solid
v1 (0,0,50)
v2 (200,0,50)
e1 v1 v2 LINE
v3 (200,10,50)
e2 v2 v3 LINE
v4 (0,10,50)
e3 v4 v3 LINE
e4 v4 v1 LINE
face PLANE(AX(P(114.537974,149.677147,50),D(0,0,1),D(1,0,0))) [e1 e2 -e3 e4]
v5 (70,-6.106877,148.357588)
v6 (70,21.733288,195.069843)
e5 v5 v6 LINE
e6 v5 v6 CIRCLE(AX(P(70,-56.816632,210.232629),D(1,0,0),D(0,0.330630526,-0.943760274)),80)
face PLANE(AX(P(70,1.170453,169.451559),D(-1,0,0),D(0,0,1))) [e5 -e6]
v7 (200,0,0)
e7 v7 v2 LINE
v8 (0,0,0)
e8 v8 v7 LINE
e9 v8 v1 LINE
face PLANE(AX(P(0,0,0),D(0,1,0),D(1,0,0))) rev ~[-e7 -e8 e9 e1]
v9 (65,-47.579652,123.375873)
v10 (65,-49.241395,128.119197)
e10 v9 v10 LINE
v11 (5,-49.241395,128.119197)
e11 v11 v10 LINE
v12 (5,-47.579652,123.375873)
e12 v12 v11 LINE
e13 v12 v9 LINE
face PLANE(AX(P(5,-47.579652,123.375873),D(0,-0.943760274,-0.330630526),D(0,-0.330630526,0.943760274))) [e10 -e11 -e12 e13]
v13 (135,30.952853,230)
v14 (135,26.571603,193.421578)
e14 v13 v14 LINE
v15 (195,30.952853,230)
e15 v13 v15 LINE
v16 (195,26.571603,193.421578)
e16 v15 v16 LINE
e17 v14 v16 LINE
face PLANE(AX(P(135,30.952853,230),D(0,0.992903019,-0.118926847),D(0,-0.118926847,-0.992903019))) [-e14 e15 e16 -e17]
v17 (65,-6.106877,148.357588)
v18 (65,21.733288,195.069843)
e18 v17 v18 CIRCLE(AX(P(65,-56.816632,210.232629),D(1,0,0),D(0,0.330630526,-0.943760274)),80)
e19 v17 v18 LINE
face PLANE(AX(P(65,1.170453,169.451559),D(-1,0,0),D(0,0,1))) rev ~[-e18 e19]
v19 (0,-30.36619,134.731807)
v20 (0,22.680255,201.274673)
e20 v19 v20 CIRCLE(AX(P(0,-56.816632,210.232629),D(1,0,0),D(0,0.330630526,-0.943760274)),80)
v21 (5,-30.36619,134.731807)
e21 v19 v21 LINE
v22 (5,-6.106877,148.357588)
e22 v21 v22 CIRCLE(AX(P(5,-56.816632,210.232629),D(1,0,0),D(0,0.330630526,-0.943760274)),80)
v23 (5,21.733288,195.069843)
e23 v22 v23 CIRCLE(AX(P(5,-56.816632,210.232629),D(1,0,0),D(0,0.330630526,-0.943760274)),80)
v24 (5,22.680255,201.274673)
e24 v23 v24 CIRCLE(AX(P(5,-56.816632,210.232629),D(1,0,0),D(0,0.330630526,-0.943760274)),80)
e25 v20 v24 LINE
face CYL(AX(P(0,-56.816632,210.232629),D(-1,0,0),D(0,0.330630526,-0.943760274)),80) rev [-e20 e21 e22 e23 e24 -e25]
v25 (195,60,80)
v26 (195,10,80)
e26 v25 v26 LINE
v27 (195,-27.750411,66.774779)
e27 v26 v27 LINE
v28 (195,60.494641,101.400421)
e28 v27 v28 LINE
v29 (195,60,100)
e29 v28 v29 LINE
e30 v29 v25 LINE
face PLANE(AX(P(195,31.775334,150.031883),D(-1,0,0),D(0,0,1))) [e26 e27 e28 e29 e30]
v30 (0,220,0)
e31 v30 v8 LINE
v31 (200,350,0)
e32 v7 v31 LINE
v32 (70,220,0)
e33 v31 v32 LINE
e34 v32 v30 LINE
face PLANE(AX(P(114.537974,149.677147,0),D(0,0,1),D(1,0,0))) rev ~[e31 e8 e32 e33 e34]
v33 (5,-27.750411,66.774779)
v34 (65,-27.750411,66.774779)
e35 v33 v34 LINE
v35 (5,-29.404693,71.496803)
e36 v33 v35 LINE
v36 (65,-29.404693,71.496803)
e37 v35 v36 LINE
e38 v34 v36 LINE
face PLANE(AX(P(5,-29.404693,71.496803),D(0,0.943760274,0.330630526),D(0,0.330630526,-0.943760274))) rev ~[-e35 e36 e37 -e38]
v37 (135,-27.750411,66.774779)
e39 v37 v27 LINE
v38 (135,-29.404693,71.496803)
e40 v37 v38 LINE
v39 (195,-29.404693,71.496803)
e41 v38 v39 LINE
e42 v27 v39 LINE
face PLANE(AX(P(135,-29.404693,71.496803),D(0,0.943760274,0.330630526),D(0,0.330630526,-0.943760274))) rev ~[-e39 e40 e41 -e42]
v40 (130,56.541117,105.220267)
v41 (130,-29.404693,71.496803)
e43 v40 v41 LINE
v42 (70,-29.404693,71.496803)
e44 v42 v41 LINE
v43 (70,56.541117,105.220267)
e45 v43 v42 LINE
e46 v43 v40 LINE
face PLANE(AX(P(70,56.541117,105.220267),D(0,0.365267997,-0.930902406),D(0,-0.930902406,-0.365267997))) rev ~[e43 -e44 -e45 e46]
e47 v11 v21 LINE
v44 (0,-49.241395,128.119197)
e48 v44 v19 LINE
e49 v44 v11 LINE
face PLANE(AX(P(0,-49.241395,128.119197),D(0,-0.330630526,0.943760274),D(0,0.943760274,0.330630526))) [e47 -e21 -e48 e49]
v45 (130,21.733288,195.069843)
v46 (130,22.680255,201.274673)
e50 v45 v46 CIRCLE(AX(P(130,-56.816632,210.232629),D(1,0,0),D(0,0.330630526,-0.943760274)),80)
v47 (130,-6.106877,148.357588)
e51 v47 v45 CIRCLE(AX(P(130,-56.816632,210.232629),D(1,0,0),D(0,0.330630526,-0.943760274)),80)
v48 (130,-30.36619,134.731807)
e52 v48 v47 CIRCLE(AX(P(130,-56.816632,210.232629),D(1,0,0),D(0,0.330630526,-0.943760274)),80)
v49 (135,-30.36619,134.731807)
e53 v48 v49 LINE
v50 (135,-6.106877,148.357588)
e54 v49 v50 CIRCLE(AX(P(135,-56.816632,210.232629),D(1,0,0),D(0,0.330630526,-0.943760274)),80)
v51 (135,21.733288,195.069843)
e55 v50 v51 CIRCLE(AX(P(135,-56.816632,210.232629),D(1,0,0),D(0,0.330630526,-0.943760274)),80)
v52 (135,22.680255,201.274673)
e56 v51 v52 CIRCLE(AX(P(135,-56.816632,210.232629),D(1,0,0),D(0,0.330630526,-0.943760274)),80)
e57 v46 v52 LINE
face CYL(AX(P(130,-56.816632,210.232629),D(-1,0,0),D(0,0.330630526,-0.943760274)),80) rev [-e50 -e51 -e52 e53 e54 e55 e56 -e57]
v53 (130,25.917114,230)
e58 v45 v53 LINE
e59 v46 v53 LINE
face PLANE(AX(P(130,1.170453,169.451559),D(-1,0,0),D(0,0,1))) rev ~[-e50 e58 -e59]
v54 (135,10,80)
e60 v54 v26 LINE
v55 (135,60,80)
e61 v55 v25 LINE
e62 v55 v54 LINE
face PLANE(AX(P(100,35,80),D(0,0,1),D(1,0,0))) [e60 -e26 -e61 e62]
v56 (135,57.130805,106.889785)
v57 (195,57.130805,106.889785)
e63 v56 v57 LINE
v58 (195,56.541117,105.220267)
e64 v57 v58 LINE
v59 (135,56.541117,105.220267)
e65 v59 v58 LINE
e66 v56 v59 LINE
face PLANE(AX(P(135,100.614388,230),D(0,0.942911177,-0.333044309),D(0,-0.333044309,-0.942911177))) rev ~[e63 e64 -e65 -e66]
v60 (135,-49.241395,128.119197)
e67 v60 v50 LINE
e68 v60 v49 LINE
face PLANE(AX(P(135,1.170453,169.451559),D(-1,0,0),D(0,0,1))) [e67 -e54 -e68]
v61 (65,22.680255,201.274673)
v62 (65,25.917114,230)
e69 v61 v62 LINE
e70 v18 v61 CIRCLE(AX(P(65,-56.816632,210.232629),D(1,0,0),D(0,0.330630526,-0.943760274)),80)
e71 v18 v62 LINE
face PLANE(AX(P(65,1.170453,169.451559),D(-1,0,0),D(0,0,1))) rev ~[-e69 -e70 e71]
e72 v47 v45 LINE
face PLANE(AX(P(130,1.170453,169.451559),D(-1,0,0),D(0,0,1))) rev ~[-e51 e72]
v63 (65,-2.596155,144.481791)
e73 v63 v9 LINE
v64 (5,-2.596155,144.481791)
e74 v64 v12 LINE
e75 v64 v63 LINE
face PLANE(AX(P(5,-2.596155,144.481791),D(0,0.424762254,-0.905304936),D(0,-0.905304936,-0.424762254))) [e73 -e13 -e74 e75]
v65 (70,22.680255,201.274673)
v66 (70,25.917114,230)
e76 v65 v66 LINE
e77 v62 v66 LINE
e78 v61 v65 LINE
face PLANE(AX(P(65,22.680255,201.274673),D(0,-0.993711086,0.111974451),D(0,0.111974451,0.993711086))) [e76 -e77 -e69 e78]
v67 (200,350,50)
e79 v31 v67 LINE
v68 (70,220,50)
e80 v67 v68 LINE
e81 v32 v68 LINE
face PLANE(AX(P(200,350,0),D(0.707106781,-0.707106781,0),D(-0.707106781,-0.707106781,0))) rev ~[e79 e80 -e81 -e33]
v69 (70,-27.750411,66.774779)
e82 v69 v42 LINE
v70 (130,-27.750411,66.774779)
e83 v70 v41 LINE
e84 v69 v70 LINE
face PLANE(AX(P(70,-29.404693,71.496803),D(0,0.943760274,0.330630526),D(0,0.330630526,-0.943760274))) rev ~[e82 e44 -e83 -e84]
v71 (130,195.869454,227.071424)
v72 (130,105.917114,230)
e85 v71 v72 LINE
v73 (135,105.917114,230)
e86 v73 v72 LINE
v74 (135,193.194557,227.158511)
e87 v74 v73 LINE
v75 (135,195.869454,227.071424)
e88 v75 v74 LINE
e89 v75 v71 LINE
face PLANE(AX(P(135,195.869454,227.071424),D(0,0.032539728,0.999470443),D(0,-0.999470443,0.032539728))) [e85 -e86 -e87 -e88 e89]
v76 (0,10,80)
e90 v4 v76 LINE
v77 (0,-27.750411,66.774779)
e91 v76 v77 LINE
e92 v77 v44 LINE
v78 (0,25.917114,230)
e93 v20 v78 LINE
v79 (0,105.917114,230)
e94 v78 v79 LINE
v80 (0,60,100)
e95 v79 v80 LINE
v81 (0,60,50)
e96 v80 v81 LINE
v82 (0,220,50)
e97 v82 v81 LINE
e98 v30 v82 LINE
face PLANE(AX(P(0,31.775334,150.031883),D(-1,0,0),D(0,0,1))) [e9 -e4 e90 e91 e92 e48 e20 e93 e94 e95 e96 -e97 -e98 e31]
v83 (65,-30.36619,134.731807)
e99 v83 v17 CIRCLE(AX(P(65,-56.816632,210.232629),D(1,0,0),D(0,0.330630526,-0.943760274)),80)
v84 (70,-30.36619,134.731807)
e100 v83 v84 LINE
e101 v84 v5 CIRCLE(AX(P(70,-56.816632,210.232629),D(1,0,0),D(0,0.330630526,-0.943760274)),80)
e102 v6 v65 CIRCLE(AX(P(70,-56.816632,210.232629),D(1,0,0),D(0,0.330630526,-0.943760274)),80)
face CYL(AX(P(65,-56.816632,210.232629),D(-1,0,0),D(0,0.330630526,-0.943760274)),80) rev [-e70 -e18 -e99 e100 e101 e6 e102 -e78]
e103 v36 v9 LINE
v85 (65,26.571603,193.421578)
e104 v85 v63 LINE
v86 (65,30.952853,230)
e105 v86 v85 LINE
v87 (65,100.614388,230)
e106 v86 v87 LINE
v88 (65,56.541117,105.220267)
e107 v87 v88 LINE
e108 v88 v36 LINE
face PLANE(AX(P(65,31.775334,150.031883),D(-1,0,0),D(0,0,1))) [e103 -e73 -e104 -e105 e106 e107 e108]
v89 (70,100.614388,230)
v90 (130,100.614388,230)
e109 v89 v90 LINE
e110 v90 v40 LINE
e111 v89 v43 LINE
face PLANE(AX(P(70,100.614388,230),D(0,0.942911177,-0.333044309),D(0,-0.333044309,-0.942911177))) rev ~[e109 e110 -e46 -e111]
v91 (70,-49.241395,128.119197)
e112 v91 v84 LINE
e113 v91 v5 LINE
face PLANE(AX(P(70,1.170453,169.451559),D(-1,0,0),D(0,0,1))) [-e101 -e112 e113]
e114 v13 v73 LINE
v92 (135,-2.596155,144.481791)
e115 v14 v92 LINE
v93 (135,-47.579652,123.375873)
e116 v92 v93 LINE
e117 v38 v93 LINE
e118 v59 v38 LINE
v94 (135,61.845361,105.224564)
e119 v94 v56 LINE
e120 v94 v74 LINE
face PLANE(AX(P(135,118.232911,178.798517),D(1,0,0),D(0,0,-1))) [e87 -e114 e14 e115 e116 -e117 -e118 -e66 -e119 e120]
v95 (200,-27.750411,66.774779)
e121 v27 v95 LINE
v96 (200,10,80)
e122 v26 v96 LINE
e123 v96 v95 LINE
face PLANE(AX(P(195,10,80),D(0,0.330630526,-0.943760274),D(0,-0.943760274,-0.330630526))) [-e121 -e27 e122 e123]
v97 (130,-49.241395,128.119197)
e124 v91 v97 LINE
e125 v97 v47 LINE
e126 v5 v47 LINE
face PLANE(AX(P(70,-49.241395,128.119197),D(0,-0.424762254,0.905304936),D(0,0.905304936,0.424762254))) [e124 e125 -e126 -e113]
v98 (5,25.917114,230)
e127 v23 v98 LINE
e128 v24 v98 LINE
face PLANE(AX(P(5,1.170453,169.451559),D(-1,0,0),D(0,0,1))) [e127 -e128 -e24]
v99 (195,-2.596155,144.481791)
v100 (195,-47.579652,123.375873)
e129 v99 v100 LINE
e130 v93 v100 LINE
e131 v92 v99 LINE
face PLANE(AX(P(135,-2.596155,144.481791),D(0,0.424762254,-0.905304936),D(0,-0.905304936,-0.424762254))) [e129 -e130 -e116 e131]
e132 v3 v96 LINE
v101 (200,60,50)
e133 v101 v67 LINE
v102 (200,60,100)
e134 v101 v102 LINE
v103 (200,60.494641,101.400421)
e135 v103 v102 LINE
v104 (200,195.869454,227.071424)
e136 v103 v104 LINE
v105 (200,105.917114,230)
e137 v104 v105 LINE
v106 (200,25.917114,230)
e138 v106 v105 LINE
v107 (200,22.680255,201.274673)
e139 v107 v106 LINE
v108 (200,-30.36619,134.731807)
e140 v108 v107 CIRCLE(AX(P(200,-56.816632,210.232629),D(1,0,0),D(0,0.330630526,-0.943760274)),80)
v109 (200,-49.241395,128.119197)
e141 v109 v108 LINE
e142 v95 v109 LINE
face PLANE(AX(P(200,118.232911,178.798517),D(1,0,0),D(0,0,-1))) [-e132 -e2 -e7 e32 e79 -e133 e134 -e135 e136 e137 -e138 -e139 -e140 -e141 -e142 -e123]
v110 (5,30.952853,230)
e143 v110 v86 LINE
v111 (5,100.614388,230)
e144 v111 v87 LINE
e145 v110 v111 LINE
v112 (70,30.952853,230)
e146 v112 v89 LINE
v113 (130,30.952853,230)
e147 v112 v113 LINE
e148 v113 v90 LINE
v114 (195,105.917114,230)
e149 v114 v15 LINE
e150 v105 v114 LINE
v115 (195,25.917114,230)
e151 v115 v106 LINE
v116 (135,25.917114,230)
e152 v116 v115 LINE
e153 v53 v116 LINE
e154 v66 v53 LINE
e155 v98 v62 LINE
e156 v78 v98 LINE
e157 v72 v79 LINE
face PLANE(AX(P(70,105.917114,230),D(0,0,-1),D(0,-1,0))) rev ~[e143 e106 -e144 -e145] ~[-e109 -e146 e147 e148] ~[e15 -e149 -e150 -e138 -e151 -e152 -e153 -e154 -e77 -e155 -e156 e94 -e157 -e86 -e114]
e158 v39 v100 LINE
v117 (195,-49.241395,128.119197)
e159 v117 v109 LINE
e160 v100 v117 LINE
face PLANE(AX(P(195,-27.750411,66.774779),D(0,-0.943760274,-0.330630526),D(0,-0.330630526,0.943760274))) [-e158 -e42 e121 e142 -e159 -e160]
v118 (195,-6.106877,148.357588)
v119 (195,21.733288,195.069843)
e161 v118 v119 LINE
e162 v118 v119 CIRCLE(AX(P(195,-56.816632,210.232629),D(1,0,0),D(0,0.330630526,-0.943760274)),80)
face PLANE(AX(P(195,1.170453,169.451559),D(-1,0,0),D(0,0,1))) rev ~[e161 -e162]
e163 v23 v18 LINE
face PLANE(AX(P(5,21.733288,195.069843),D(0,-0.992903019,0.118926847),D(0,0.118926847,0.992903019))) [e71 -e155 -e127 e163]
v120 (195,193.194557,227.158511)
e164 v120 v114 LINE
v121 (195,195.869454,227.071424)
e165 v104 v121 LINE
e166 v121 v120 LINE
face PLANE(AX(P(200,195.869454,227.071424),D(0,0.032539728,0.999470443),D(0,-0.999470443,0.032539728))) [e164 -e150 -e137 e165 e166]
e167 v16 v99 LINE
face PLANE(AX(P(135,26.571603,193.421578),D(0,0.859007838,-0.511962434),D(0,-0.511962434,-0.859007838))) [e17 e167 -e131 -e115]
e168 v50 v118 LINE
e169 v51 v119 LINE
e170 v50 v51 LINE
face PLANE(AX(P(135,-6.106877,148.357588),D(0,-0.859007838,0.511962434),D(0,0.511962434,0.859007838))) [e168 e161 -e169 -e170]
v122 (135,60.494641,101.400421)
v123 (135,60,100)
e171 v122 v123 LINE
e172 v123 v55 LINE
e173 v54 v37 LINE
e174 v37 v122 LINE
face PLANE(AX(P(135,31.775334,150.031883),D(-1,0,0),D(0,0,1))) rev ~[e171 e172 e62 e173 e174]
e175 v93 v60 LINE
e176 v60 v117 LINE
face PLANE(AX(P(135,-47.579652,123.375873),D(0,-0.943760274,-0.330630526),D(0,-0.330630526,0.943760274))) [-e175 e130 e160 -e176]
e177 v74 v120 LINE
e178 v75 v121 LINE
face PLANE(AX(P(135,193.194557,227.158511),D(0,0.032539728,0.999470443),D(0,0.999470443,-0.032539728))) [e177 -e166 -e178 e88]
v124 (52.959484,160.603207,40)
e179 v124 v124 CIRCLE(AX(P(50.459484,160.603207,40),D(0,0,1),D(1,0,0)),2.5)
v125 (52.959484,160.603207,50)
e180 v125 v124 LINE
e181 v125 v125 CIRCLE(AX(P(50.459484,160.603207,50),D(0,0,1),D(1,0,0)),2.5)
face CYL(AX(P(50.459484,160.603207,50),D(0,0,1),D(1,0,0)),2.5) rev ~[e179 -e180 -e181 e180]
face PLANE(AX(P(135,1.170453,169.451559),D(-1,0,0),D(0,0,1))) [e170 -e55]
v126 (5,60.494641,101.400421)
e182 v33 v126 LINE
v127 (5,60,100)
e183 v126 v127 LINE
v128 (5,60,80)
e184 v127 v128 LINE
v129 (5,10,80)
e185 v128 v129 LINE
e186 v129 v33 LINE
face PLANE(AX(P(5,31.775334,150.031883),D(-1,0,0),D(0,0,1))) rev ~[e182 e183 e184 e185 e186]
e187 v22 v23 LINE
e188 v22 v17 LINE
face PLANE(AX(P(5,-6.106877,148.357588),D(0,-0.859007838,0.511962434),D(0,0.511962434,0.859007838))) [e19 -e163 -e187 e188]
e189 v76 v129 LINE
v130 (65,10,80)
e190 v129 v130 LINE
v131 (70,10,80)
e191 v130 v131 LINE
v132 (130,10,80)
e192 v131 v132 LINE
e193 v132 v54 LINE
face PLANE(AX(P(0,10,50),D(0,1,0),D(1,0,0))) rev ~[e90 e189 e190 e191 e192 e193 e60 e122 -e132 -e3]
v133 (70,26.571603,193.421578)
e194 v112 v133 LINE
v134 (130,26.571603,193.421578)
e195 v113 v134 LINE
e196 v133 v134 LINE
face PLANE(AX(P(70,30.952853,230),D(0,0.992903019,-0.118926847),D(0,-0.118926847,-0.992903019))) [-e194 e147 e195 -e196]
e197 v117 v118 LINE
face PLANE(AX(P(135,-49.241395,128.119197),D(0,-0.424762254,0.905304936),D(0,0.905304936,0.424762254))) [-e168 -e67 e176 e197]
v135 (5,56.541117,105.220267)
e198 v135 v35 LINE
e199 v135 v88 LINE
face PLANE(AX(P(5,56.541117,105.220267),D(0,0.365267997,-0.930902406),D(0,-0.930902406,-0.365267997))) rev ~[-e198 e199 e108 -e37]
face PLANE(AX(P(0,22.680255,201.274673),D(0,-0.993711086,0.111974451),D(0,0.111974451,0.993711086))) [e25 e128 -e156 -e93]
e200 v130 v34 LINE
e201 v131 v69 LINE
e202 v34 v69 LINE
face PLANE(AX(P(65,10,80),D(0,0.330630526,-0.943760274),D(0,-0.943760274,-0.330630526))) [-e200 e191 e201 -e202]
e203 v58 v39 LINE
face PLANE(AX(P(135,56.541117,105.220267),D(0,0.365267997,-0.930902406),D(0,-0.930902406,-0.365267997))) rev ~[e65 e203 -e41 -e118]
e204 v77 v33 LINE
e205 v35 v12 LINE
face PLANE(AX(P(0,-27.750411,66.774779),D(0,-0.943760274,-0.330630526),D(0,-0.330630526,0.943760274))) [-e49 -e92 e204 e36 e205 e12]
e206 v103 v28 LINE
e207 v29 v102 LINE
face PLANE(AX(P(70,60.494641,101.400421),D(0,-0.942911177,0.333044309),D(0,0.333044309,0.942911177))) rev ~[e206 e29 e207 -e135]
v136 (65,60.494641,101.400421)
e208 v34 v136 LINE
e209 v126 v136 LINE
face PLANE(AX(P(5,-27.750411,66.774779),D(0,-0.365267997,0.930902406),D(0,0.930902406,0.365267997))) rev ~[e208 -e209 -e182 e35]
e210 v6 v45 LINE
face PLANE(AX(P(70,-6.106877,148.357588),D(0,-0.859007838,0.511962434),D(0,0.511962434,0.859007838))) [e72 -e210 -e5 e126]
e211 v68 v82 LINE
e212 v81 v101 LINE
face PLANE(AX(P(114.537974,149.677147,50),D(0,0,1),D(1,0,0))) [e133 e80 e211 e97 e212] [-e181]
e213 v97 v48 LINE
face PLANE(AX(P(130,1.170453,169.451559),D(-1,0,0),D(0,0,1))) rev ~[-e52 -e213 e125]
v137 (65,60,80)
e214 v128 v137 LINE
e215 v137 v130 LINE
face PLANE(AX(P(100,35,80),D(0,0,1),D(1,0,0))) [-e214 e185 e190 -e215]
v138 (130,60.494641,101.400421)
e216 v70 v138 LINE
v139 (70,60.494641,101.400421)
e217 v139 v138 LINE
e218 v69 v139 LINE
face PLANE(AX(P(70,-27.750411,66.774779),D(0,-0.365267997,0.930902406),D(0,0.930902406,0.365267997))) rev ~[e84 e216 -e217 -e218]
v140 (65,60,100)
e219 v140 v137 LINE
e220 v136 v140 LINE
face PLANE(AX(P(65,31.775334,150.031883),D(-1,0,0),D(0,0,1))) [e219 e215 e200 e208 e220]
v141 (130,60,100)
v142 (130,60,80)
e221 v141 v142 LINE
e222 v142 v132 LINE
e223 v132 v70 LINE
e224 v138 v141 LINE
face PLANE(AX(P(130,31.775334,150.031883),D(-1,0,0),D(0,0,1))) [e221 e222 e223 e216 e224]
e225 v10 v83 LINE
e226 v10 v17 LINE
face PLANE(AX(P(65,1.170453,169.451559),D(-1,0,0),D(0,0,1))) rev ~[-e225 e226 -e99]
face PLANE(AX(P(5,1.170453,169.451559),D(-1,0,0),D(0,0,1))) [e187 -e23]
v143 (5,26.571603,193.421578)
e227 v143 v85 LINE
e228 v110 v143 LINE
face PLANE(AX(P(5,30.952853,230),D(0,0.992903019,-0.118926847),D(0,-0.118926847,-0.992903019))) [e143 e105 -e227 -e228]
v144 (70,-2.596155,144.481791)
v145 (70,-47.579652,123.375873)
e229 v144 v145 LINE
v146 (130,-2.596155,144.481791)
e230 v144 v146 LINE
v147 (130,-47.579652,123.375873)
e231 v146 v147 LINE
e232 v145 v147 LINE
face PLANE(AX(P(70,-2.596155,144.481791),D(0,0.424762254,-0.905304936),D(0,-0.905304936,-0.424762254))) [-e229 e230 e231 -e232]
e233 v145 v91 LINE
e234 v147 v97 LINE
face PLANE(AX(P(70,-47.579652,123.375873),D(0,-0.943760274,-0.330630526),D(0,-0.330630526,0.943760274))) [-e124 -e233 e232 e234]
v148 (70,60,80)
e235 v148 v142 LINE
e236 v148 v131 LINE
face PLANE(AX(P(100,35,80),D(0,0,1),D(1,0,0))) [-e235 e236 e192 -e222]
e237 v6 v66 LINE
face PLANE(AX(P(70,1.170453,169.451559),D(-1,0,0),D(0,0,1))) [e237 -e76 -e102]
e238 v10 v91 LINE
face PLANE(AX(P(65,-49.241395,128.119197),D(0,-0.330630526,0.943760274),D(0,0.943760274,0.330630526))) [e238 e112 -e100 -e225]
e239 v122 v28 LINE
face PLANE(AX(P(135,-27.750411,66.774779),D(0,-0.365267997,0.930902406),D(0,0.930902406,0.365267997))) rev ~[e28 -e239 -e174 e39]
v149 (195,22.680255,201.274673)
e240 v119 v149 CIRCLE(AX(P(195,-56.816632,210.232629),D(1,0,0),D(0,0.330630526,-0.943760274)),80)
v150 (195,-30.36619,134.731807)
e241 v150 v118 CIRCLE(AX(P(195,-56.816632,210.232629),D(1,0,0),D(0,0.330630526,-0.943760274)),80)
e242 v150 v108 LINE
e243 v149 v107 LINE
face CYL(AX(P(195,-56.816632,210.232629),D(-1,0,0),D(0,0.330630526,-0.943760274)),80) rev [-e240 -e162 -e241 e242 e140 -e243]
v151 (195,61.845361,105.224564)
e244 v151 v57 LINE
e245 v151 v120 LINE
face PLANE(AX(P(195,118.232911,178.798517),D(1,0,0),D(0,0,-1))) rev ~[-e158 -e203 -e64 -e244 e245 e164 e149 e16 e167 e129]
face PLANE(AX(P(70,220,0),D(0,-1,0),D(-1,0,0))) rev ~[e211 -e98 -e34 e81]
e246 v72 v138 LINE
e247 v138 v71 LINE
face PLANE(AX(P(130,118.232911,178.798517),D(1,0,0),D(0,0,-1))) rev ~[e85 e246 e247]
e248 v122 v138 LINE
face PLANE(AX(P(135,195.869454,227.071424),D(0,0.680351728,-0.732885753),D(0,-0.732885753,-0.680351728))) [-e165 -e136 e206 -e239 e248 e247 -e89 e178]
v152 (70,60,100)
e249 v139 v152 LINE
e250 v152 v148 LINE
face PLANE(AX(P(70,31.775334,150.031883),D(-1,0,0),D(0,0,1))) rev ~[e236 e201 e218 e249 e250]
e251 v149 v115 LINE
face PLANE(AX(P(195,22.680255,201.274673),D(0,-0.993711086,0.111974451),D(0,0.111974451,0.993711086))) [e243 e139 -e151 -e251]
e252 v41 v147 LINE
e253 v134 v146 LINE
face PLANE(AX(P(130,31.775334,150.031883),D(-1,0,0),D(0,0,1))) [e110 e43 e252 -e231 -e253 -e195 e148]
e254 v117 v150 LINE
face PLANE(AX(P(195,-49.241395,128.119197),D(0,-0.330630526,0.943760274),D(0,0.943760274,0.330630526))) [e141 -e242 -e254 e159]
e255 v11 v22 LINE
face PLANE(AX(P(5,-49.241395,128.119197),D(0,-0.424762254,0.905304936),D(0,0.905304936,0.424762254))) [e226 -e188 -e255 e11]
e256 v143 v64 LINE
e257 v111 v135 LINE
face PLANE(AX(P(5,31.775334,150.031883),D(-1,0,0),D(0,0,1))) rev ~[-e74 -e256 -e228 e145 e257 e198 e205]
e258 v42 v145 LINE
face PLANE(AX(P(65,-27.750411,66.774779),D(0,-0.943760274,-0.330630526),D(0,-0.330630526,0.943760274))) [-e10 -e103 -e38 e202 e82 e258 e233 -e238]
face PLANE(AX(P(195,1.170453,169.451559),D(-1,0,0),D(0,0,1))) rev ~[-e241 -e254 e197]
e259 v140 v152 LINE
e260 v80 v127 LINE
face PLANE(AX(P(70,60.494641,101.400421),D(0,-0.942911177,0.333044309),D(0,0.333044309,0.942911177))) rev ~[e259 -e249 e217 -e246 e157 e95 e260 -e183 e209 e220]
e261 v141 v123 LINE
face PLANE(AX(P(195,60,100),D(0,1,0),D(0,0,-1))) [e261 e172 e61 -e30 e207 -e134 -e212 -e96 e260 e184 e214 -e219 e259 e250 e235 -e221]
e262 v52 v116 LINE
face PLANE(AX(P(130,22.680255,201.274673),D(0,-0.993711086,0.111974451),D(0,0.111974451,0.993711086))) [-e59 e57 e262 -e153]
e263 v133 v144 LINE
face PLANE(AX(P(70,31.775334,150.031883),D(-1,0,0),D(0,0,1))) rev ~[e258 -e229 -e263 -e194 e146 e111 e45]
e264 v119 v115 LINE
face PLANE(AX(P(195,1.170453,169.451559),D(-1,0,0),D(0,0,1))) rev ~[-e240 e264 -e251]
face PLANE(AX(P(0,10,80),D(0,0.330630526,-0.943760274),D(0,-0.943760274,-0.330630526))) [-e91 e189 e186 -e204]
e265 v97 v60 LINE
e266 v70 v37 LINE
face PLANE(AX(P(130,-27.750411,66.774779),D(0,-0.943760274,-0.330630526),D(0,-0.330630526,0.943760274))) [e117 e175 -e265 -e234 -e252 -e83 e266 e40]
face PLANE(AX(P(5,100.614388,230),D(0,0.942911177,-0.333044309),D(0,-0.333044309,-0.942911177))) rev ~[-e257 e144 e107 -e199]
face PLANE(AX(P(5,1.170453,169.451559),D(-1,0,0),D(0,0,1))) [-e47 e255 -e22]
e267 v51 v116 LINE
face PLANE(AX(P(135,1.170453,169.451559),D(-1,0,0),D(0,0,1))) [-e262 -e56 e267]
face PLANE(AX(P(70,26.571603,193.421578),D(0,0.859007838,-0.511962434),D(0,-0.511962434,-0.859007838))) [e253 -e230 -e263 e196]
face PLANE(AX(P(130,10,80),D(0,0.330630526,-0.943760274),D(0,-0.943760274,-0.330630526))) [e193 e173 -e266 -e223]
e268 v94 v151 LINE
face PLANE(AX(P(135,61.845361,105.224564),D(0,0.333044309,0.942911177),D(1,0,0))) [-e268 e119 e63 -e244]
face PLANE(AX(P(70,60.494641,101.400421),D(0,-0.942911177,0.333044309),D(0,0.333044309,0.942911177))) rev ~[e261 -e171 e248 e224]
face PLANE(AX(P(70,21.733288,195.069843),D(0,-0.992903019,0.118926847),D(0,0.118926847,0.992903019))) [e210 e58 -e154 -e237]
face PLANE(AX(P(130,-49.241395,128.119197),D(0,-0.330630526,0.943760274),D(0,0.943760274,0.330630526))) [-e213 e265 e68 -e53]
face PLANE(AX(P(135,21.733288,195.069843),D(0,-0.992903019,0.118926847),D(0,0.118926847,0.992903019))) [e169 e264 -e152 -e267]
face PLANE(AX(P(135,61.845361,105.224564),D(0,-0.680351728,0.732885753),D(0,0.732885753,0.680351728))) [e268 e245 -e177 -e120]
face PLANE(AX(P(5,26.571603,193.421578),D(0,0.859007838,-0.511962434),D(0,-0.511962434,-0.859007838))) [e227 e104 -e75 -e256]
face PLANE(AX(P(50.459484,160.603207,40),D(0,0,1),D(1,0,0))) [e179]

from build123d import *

# Parameters (mm, degrees)
P_IDAT_VYSUNUT_M1_DEPTH  = 50
SKICA7_W                 = 200
SKICA7_H                 = 50
P_IDAT_VYSUNUT_M5_DEPTH  = 30
P_IDAT_VYSUNUT_M6_DEPTH  = 5
LINPOLE1_COUNT           = 4
LINPOLE1_PITCH           = 65
P_IDAT_VYSUNUT_M10_DEPTH = 60
LINPOLE3_COUNT           = 3
LINPOLE3_PITCH           = 65
SKICA17_W                = 60
SKICA17_H                = 132.33
ODEBRAT_VYSUNUT_M3_DEPTH = 10
P_IDAT_VYSUNUT_M12_DEPTH = 5
LINPOLE4_COUNT           = 2
LINPOLE4_PITCH           = 65
P_IDAT_VYSUNUT_M13_DEPTH = 60
SKICA20_R                = 2.5
ODEBRAT_VYSUNUT_M4_DEPTH = 10


with BuildPart() as part:
    # Skica1 → Přidat vysunutím1 (new body)
    with BuildSketch(Plane.XY):
        Polygon((0, 0), (200, 0), (200, 350), (70, 220), (0, 220), align=None)
    extrude(amount=P_IDAT_VYSUNUT_M1_DEPTH)

    # Skica7 → Přidat vysunutím5 (add)
    with BuildSketch(Plane.XY.offset(50)):
        with Locations((100, 35)):
            Rectangle(SKICA7_W, SKICA7_H)
    extrude(amount=P_IDAT_VYSUNUT_M5_DEPTH)

    # Skica9 → Přidat vysunutím6 (add)
    with BuildSketch(Plane.ZY):
        with BuildLine():
            Line((80, 10), (66.774778957, -27.75041097))
            Line((66.774778957, -27.75041097), (128.119196783, -49.241395164))
            Line((128.119196783, -49.241395164), (134.731807304, -30.366189679))
            ThreePointArc((134.731807304, -30.366189679), (160.364777666, 5.738922578), (201.274673199, 22.680255114))
            Line((201.274673199, 22.680255114), (230, 25.917114128))
            Line((230, 25.917114128), (230, 105.917114128))
            Line((230, 105.917114128), (100, 60))
            Line((100, 60), (80, 60))
            Line((80, 60), (80, 10))
        make_face()
    p_idat_vysunut_m6 = extrude(amount=-P_IDAT_VYSUNUT_M6_DEPTH)

    # LinPole1: Přidat vysunutím6 ×4
    with Locations(*[(i * LINPOLE1_PITCH, 0, 0) for i in range(1, LINPOLE1_COUNT)]):
        add(p_idat_vysunut_m6)

    # Skica12 → Přidat vysunutím10 (add)
    with BuildSketch(Plane(origin=(5, 0, 0), x_dir=(0, 0, -1), z_dir=(1, 0, 0))):
        Polygon((-230, 105.917114128), (-230, 100.61438772), (-105.220267206, 56.541116708), (-71.496803297, -29.404692713), (-66.774778957, -27.75041097), (-101.40042077, 60.494640618), align=None)
        Polygon((-230, 25.917114128), (-230, 30.952852669), (-193.421577993, 26.571602615), (-144.481791005, -2.596155027), (-123.37587339, -47.579651656), (-128.119196783, -49.241395164), (-148.357587613, -6.10687705), (-195.069843452, 21.733288203), align=None)
    p_idat_vysunut_m10 = extrude(amount=P_IDAT_VYSUNUT_M10_DEPTH)

    # LinPole3: Přidat vysunutím10 ×3
    with Locations(*[(i * LINPOLE3_PITCH, 0, 0) for i in range(1, LINPOLE3_COUNT)]):
        add(p_idat_vysunut_m10)

    # Skica17 → Odebrat vysunutím3 (cut)
    with BuildSketch(Plane(origin=(0, 21.941769172, -7.750020917), x_dir=(1, 0, 0), z_dir=(0, 0.9429111773554218, -0.33304430879120595))):
        with Locations((165, -185.979662856)):
            Rectangle(SKICA17_W, SKICA17_H)
    extrude(amount=-ODEBRAT_VYSUNUT_M3_DEPTH, mode=Mode.SUBTRACT)

    # Skica18 → Přidat vysunutím12 (add)
    with BuildSketch(Plane(origin=(135, 0, 0), x_dir=(0, 0, -1), z_dir=(1, 0, 0))):
        Polygon((-101.40042077, 60.494640618), (-227.071424446, 195.869453982), (-230, 105.917114128), align=None)
    p_idat_vysunut_m12 = extrude(amount=-P_IDAT_VYSUNUT_M12_DEPTH)

    # LinPole4: Přidat vysunutím12 ×2
    with Locations(*[(i * LINPOLE4_PITCH, 0, 0) for i in range(1, LINPOLE4_COUNT)]):
        add(p_idat_vysunut_m12)

    # Skica19 → Přidat vysunutím13 (add)
    with BuildSketch(Plane(origin=(135, 0, 0), x_dir=(0, 0, -1), z_dir=(1, 0, 0))):
        Polygon((-227.071424446, 195.869453982), (-101.40042077, 60.494640618), (-105.224563901, 61.845360745), (-227.158510983, 193.194557029), align=None)
    extrude(amount=P_IDAT_VYSUNUT_M13_DEPTH)

    # Skica20 → Odebrat vysunutím4 (cut)
    with BuildSketch(Plane.XY.offset(50)):
        with Locations((50.459484354, 160.603206666)):
            Circle(SKICA20_R)
    extrude(amount=-ODEBRAT_VYSUNUT_M4_DEPTH, mode=Mode.SUBTRACT)


solid = part.part
